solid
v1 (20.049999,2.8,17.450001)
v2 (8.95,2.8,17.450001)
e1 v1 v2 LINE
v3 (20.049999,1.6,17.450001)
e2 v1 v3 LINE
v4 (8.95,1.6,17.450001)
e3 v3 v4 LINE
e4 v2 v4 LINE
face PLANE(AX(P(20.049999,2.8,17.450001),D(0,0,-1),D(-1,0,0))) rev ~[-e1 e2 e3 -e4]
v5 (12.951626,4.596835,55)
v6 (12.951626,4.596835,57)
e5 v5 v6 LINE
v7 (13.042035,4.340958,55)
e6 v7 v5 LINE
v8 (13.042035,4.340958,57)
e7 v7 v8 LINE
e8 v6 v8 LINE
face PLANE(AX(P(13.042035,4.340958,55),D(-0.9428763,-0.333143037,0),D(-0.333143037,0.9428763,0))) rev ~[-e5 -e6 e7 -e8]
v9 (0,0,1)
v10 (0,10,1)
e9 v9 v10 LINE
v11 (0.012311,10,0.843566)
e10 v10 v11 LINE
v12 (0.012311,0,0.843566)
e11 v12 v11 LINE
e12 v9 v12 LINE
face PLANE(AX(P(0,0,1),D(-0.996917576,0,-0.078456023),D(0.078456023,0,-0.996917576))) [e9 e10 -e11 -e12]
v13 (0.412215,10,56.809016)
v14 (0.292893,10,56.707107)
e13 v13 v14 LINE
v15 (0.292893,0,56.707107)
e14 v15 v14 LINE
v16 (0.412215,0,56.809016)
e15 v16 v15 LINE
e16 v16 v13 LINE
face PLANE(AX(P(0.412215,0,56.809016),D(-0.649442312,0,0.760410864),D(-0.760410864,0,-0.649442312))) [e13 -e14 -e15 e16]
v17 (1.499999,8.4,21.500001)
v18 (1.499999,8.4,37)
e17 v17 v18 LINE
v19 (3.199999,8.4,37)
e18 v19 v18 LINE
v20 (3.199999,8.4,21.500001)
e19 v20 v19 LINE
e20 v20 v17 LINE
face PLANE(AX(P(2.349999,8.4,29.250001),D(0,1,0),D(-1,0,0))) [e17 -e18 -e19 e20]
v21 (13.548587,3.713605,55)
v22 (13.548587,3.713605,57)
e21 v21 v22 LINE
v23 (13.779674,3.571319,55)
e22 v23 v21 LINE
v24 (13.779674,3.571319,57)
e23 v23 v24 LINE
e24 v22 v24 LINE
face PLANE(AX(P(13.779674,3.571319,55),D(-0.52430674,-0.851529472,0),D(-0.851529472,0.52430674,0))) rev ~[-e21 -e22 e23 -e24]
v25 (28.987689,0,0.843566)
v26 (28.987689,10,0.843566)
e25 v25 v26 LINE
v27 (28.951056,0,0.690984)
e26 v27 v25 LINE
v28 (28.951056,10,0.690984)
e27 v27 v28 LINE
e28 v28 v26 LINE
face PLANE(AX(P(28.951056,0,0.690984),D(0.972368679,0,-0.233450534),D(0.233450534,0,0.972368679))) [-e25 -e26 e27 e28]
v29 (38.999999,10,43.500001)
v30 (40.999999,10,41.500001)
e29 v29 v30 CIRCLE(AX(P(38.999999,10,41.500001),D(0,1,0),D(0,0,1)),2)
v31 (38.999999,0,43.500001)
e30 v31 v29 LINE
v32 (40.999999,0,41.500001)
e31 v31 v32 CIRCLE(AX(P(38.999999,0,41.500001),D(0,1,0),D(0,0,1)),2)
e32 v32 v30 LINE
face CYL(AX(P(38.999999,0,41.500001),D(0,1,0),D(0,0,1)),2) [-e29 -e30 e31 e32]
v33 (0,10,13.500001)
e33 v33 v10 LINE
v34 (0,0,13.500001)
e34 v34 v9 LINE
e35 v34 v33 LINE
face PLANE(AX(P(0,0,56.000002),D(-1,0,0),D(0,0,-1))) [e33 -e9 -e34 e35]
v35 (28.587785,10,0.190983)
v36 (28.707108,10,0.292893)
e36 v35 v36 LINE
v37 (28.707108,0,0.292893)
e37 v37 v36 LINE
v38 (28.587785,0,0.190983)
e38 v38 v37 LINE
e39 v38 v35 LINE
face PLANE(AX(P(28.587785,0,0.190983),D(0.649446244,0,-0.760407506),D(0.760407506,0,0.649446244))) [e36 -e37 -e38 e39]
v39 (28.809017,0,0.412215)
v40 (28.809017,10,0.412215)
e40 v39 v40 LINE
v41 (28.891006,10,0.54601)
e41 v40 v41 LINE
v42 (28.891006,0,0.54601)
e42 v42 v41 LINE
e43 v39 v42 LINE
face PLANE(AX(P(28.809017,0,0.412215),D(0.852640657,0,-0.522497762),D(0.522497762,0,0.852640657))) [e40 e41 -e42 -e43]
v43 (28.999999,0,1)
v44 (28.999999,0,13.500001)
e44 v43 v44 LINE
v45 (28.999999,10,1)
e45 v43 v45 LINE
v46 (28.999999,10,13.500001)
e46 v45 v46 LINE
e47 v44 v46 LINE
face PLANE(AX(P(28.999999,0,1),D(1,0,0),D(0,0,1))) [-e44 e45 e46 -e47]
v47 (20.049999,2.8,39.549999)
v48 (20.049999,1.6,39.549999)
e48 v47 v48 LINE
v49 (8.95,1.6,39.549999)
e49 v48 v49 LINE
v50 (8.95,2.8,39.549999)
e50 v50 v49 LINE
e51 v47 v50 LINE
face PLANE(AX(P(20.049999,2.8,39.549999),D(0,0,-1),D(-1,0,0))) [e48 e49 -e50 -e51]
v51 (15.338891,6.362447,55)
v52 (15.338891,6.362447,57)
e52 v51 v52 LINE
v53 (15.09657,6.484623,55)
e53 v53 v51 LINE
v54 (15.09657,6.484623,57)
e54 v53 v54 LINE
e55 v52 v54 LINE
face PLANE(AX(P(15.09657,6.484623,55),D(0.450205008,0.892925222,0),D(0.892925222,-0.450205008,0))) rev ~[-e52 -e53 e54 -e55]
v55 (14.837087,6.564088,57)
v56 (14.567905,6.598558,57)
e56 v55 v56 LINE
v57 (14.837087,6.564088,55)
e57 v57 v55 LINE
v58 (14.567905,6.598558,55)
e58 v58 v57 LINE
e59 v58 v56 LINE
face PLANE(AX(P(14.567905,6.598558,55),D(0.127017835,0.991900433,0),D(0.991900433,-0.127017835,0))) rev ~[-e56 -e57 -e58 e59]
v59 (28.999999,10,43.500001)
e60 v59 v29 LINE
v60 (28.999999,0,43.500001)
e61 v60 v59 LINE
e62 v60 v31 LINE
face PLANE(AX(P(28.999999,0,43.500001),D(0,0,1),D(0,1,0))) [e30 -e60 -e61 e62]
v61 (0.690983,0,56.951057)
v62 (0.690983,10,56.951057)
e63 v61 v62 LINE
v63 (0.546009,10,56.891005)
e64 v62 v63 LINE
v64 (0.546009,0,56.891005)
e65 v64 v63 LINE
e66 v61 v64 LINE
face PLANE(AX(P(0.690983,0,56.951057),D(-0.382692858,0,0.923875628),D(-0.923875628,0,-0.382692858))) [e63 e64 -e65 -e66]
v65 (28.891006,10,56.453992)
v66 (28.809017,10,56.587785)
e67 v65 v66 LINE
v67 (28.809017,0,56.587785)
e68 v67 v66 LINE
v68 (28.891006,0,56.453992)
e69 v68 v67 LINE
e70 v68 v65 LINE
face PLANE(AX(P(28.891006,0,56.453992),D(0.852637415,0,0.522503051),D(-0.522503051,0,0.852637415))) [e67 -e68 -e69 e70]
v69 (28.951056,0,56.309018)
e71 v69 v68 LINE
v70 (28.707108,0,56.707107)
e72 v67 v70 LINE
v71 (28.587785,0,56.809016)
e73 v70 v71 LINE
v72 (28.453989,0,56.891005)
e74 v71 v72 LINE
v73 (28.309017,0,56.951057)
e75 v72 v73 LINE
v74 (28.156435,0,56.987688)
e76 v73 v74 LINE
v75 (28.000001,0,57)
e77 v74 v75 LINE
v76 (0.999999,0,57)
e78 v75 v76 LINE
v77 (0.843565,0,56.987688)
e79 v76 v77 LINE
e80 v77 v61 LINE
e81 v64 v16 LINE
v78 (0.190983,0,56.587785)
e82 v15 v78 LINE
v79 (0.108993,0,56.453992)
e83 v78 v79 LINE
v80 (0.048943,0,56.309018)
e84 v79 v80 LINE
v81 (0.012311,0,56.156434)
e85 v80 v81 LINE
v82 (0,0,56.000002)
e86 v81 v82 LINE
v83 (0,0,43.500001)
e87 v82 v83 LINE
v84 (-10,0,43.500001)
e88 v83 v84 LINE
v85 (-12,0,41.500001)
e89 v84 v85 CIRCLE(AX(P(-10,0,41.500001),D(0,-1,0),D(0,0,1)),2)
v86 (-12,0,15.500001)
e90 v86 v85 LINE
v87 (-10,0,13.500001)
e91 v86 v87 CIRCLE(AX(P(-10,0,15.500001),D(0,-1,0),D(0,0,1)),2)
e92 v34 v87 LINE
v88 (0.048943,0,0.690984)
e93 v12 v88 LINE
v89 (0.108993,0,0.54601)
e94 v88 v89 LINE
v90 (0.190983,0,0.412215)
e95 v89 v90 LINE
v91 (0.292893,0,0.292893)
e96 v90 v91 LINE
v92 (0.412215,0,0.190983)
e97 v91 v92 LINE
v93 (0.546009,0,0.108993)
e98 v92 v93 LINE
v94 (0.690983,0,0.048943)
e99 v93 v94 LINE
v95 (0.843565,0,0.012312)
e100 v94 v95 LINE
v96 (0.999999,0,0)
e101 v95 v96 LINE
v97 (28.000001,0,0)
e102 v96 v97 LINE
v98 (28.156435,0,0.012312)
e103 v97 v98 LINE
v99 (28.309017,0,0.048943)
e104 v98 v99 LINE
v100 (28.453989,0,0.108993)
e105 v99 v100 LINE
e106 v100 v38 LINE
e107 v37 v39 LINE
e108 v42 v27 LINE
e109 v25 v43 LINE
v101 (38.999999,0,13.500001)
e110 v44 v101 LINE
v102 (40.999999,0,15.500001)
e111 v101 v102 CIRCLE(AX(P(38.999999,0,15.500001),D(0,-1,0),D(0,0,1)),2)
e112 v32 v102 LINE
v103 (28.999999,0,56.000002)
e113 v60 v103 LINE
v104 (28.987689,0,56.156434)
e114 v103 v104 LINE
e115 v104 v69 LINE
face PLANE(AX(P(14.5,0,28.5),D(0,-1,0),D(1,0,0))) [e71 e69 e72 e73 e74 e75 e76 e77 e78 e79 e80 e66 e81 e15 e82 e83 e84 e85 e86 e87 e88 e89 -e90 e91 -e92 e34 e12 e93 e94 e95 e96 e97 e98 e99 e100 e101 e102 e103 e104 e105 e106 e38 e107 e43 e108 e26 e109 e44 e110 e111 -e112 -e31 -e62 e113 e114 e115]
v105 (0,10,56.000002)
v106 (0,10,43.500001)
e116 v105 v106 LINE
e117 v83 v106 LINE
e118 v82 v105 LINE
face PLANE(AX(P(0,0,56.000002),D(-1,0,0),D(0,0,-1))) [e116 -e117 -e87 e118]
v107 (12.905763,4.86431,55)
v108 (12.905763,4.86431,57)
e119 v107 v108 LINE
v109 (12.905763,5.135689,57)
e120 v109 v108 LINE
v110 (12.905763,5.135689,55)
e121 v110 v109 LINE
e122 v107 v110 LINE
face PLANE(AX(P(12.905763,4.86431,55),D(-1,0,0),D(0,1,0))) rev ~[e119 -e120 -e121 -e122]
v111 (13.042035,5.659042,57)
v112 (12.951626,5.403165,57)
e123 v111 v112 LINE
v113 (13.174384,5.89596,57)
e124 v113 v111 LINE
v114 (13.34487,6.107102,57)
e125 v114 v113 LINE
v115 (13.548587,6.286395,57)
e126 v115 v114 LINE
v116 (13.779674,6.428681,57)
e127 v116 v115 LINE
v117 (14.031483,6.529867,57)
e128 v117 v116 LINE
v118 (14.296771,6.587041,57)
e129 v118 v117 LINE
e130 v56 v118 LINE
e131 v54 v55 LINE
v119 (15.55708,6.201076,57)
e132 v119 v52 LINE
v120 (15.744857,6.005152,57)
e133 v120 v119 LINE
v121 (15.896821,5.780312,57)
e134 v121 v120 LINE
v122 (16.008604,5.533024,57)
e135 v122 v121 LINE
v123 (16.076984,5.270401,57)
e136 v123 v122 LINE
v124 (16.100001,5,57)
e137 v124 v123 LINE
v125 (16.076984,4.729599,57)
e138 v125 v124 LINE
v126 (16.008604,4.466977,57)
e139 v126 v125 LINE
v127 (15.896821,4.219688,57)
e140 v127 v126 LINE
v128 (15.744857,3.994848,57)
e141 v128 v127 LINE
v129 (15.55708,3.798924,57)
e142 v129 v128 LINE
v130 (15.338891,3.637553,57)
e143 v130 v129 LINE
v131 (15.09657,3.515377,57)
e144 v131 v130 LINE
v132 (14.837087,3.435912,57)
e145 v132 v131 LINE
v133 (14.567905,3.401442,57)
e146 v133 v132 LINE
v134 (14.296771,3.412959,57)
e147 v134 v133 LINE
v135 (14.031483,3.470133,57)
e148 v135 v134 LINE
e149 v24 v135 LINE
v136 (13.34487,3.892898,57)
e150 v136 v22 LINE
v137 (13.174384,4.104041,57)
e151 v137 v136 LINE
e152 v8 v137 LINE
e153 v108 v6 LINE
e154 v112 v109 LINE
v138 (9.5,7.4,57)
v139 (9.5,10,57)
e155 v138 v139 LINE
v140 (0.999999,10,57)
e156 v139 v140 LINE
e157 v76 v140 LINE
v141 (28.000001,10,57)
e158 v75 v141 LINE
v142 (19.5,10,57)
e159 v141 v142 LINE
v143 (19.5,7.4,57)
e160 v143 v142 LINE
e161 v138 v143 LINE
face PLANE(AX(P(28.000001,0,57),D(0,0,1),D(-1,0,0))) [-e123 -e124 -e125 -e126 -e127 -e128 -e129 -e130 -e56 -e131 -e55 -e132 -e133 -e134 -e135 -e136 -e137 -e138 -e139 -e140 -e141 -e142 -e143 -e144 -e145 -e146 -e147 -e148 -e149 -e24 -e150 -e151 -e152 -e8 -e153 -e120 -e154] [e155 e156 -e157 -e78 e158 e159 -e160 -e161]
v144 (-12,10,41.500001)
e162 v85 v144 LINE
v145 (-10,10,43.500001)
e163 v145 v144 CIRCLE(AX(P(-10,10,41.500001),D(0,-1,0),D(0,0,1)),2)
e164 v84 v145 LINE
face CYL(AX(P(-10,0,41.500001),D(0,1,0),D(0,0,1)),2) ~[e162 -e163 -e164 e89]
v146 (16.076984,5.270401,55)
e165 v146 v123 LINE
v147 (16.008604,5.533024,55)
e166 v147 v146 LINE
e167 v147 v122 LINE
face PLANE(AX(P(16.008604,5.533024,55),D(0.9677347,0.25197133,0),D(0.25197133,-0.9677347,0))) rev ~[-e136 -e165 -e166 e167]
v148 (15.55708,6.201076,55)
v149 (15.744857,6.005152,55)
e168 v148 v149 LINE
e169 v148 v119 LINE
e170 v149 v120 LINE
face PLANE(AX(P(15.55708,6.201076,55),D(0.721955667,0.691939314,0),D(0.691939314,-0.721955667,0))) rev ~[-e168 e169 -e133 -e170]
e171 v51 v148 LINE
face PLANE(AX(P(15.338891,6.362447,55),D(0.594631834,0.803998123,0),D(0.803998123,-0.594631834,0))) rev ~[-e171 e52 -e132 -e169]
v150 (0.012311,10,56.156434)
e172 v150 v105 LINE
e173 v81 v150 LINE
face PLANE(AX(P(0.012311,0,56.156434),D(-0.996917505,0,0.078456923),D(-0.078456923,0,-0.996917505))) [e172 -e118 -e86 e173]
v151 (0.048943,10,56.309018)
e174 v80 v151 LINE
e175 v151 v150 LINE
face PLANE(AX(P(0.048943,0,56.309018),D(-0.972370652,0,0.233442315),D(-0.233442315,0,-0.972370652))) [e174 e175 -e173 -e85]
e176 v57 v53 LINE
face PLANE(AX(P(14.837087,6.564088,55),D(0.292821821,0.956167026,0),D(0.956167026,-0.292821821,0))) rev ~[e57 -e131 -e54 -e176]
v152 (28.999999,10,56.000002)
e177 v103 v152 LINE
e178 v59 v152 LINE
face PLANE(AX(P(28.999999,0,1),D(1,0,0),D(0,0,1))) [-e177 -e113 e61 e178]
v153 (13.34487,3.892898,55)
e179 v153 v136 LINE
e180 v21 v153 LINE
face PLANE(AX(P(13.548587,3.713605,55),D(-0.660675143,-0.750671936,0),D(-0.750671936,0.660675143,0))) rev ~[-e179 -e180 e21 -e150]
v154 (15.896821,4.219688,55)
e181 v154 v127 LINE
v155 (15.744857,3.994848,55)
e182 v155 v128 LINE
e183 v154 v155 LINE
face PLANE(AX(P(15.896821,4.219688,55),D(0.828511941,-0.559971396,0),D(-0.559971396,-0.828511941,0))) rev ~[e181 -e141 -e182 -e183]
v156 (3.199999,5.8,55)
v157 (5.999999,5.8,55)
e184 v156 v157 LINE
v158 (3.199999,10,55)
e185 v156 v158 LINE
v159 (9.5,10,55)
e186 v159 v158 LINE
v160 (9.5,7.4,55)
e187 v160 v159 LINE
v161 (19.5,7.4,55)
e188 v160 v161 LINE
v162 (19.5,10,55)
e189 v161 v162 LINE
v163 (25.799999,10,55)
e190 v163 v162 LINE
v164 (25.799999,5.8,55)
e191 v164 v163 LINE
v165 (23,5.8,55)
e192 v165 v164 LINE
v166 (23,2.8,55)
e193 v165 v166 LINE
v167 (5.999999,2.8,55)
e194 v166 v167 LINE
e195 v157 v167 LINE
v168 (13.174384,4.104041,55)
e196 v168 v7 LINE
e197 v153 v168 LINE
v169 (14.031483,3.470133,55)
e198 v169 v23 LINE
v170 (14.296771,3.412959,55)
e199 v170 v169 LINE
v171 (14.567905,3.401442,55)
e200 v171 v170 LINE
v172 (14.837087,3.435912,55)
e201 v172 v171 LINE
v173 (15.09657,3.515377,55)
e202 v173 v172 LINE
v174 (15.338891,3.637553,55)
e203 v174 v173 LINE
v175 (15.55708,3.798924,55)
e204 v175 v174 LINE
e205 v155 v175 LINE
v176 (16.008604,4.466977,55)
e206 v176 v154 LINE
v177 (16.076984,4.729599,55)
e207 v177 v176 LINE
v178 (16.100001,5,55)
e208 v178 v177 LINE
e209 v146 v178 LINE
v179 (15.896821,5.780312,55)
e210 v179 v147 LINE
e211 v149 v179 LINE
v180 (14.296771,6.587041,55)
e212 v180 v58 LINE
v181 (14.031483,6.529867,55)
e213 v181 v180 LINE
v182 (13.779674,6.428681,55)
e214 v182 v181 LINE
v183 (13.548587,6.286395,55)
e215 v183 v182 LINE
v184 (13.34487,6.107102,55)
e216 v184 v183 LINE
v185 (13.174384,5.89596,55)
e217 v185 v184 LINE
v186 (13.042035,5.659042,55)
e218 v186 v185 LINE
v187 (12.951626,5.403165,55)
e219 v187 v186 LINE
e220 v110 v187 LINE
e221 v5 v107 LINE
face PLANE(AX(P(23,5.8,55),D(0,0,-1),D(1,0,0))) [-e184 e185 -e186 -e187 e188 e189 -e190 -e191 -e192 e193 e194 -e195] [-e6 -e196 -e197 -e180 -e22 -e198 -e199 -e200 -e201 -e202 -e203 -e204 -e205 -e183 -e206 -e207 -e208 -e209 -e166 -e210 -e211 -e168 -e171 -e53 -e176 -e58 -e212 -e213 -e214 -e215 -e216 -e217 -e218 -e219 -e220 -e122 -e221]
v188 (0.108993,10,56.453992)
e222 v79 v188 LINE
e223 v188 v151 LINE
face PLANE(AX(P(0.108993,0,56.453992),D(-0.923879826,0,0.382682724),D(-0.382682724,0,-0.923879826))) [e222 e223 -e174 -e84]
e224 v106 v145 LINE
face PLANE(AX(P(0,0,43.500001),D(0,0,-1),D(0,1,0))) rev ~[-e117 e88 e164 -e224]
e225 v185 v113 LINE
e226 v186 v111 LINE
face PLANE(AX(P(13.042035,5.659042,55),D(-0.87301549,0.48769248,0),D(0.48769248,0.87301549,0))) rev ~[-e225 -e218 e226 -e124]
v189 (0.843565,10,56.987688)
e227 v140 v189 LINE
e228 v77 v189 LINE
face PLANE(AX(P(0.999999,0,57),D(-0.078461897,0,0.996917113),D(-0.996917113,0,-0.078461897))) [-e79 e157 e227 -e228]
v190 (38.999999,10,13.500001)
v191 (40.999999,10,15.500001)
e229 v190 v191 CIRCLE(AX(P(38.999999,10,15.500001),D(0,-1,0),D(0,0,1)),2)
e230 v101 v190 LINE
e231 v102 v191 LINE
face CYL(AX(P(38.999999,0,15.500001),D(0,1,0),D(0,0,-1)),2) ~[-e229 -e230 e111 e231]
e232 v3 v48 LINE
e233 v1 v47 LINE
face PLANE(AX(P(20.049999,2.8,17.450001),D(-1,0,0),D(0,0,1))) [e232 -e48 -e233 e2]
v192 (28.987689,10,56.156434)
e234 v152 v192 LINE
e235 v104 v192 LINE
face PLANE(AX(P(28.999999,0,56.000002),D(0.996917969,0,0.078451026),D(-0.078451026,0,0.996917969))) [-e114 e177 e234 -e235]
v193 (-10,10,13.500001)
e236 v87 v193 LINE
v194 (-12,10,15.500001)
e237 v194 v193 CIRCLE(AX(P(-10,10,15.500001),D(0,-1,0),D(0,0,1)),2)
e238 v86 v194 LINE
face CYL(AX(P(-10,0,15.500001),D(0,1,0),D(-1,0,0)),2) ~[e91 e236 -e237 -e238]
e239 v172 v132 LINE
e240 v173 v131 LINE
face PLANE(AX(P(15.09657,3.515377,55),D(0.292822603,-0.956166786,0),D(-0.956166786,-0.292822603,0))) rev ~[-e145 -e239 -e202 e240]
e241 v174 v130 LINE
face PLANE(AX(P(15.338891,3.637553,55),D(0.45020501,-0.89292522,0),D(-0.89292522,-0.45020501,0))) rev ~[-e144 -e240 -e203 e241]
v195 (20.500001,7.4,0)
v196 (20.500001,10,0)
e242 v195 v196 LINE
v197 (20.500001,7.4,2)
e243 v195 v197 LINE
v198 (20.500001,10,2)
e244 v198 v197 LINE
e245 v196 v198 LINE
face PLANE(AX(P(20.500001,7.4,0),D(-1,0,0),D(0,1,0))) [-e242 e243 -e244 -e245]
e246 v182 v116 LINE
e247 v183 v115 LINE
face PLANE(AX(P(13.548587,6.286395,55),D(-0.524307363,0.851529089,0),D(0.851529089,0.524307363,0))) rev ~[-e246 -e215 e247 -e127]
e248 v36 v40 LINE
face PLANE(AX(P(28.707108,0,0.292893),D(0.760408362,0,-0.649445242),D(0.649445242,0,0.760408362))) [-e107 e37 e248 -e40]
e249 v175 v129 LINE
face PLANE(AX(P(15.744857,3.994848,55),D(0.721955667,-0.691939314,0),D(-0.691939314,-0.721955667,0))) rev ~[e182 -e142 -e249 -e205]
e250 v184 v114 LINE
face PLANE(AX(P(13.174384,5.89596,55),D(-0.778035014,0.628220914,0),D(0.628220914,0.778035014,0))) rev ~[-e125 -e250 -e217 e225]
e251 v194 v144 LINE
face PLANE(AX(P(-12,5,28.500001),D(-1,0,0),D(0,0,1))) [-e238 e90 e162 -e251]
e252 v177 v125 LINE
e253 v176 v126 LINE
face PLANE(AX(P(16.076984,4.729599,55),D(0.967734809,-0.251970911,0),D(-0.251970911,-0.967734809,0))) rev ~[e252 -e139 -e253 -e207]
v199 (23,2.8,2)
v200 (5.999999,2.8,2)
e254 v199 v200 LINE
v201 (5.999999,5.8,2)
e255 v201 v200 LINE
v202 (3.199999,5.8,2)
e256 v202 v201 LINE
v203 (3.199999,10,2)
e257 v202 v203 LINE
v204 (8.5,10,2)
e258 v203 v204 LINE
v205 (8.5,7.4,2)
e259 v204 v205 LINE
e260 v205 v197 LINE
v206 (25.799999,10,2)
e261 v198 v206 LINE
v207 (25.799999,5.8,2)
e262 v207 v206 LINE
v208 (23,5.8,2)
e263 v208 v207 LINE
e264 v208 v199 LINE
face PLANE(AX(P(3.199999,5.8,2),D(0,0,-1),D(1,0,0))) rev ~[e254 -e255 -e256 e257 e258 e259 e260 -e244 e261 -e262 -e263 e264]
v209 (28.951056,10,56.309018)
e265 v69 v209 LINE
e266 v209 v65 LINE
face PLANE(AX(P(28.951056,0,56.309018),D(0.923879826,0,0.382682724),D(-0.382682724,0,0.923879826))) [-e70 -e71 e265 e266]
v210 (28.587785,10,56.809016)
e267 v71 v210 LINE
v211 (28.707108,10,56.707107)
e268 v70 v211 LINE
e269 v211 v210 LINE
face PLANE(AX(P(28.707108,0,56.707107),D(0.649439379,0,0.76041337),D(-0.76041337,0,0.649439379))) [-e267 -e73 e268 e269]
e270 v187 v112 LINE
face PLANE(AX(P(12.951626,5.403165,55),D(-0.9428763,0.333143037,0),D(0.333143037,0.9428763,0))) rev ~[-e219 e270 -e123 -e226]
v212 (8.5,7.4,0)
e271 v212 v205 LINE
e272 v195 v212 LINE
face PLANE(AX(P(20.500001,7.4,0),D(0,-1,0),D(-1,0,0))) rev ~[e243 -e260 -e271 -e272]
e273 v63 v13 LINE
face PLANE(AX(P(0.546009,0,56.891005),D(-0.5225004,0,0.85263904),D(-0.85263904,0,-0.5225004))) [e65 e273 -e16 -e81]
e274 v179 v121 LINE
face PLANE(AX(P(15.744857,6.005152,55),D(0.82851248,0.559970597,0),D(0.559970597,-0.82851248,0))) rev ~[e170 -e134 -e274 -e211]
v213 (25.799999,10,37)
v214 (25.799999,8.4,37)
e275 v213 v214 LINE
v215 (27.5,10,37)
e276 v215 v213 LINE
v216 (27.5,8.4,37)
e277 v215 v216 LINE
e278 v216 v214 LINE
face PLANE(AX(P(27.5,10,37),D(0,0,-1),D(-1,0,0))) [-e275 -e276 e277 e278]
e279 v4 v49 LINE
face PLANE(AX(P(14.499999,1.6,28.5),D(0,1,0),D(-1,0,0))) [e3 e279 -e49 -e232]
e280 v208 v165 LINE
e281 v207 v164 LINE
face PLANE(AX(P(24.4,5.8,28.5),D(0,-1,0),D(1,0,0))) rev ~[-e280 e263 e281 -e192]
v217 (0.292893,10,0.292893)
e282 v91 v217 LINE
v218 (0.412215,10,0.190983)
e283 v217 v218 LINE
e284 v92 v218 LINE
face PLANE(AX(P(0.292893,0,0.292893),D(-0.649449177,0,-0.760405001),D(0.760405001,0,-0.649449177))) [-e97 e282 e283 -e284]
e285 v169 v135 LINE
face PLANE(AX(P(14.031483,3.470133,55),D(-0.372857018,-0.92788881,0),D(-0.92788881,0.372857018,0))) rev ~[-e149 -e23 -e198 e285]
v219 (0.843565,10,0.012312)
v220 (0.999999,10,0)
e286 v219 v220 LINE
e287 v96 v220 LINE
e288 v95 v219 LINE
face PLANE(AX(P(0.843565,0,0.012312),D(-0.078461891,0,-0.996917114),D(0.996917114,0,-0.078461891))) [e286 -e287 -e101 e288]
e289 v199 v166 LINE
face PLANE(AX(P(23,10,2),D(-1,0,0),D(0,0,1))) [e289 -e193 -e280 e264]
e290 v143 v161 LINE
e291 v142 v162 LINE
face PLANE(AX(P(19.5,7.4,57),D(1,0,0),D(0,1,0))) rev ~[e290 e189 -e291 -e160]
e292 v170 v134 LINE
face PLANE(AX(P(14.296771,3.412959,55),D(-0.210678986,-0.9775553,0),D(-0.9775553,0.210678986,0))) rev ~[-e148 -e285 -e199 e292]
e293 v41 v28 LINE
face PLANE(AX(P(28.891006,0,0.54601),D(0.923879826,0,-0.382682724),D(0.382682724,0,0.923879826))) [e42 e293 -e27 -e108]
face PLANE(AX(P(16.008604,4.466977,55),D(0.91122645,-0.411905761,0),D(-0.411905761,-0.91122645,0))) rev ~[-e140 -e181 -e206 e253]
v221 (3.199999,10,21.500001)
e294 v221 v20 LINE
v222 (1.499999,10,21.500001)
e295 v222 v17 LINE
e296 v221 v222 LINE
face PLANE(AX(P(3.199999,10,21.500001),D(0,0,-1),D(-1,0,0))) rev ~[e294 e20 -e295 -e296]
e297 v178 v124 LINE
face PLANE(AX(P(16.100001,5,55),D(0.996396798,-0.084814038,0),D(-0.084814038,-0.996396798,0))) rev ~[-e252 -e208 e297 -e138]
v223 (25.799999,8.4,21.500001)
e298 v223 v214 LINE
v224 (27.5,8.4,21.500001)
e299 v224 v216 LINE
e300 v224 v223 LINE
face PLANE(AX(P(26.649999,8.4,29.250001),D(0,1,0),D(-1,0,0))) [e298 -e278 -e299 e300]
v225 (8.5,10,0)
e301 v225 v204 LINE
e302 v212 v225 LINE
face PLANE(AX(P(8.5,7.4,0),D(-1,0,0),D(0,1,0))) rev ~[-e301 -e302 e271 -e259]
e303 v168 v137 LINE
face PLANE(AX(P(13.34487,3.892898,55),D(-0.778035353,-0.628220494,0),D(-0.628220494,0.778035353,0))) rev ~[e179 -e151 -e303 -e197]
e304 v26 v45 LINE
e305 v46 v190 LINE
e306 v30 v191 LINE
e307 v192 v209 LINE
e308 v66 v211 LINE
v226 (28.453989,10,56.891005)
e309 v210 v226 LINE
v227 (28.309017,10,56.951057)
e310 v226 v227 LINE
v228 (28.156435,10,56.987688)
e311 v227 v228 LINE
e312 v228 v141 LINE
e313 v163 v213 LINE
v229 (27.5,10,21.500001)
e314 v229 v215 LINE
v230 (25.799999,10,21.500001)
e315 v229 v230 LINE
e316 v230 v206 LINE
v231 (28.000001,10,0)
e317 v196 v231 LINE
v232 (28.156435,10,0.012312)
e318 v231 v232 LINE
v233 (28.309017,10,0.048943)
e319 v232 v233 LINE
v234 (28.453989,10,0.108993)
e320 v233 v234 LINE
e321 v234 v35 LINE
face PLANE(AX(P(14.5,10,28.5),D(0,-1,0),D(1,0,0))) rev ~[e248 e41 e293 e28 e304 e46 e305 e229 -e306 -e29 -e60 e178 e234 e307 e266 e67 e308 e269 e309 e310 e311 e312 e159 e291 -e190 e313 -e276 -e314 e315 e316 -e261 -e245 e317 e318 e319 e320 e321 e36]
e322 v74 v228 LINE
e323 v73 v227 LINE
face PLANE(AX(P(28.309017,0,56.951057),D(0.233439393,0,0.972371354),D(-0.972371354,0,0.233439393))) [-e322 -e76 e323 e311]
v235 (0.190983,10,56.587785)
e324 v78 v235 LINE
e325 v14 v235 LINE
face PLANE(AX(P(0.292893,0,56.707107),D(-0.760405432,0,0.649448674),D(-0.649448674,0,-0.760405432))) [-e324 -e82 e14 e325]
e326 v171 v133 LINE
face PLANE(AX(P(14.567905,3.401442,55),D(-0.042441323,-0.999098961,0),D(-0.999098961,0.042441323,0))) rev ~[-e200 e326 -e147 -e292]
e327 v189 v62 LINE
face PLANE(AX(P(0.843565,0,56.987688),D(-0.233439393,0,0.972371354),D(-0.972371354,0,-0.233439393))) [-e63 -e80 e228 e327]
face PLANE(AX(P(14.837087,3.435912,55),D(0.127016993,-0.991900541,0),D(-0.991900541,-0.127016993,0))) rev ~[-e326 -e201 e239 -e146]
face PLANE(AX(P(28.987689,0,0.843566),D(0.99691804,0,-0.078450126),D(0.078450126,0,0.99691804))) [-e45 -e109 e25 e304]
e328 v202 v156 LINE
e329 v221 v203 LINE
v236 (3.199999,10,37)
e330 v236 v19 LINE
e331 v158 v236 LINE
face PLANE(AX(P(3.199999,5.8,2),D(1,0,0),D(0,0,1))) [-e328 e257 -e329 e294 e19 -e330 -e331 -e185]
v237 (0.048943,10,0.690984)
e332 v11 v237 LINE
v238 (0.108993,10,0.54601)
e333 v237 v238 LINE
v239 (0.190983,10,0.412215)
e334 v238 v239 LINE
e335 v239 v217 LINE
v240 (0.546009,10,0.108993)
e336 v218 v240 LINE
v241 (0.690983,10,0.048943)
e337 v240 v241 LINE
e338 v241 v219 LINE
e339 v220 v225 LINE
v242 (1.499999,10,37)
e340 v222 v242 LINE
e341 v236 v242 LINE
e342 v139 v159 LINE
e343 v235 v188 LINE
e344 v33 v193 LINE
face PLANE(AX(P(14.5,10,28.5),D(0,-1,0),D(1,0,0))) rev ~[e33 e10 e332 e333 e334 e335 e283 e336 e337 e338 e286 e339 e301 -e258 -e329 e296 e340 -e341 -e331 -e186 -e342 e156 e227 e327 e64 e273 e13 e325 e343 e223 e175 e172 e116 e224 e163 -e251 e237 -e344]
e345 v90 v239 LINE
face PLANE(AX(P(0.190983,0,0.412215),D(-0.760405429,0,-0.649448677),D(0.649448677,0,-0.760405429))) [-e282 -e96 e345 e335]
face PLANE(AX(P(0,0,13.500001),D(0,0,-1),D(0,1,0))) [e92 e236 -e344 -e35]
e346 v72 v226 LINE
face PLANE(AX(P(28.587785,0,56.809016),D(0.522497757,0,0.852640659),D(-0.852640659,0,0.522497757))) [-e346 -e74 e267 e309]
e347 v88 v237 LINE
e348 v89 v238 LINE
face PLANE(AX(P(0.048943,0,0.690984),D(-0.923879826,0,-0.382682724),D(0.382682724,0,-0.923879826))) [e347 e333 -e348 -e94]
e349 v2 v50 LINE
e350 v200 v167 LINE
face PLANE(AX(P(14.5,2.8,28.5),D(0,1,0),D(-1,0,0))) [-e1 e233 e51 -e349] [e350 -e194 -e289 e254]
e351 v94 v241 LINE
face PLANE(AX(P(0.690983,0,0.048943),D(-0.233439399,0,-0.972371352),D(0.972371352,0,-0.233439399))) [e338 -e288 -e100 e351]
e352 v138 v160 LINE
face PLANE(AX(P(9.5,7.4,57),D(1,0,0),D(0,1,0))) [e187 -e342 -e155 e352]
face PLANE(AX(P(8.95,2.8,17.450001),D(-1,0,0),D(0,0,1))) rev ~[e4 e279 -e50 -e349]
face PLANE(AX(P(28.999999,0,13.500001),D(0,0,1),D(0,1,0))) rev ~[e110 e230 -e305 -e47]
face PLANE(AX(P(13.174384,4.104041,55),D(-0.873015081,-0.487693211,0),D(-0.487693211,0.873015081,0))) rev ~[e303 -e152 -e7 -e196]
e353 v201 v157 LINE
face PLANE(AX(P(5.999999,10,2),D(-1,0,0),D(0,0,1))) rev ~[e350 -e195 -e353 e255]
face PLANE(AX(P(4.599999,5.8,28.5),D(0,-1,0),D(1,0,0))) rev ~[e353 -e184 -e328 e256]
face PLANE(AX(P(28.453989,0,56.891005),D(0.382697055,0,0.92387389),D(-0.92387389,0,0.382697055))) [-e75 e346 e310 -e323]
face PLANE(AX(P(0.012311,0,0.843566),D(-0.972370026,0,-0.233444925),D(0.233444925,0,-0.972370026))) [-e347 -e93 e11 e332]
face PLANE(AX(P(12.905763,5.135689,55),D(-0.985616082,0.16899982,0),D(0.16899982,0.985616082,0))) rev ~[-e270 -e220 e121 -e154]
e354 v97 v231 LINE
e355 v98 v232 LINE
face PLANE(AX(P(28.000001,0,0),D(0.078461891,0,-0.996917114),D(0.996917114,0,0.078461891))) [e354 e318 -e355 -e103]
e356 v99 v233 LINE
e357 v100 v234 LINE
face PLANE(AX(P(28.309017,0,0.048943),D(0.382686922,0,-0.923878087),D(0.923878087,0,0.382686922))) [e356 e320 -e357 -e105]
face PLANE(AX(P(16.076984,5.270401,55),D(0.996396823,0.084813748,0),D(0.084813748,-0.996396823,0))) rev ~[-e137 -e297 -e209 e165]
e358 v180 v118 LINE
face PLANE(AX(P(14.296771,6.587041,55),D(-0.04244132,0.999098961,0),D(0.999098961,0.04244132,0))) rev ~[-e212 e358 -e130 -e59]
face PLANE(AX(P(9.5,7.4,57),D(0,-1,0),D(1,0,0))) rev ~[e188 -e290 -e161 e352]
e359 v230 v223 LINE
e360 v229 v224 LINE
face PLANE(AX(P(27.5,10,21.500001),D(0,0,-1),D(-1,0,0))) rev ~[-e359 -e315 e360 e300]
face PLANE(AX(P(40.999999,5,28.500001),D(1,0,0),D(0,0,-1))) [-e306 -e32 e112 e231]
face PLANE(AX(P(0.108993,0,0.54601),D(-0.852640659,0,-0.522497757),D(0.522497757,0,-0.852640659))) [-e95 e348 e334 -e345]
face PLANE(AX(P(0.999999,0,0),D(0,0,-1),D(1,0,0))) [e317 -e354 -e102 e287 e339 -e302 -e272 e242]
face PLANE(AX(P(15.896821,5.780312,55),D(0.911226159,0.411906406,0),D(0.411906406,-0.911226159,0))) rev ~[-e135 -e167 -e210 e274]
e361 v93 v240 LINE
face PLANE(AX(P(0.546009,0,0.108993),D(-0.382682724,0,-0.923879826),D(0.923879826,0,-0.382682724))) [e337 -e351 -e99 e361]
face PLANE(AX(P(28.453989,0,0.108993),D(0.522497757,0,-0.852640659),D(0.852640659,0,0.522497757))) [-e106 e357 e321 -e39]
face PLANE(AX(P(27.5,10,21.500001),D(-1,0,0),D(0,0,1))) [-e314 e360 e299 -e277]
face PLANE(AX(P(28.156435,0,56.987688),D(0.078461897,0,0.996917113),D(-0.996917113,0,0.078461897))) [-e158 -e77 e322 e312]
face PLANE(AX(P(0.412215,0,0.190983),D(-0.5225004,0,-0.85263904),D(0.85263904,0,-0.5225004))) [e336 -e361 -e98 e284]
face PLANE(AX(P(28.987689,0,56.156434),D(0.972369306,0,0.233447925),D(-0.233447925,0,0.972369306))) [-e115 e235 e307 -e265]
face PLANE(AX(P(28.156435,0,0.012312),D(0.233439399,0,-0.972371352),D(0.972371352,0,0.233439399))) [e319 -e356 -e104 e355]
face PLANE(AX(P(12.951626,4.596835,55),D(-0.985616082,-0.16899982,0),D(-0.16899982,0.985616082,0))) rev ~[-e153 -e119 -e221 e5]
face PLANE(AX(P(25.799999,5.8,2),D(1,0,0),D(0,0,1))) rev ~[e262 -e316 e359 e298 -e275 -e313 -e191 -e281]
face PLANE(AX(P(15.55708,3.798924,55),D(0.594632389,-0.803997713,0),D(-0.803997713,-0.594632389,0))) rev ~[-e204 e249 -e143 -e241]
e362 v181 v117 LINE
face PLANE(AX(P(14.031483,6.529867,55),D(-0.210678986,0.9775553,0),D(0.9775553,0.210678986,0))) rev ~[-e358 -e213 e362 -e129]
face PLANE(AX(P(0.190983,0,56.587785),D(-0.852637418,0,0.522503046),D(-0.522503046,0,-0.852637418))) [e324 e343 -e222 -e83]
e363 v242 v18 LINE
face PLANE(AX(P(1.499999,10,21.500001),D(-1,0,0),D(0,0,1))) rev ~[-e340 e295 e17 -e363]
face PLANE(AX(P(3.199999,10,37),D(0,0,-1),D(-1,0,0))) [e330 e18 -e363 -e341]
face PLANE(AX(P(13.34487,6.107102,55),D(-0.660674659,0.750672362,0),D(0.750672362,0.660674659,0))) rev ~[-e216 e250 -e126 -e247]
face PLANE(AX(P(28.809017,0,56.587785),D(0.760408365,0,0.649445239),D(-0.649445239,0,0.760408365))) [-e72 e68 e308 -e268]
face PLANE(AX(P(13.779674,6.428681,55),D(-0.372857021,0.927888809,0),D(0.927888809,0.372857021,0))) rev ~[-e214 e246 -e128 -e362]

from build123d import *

# Parameters (mm, degrees)
BOSS_EXTRUDE1_DEPTH = 9.999999776
SKETCH2_W           = 17.000000924
SKETCH2_H           = 52.999999374
CUT_EXTRUDE1_DEPTH  = 7.199999876
CUT_EXTRUDE2_REACH  = 66.216
SKETCH4_W           = 2.799998969
SKETCH4_H           = 52.999999374
CUT_EXTRUDE3_REACH  = 66.216
SKETCH6_W           = 2.7999999
SKETCH6_H           = 52.999999374
CUT_EXTRUDE4_REACH  = 66.73
SKETCH7_W           = 10.000000707
SKETCH7_H           = 2.599999774
CUT_EXTRUDE5_REACH  = 66.73
SKETCH8_W           = 12.000000104
SKETCH8_H           = 2.599999774
CUT_EXTRUDE6_DEPTH  = 63.976185295
SKETCH10_W          = 1.699999906
SKETCH10_H          = 15.499999747
CUT_EXTRUDE7_DEPTH  = 1.600000076
SKETCH11_W          = 1.700000837
SKETCH11_H          = 15.499999747
CUT_EXTRUDE8_DEPTH  = 1.600000076
SKETCH12_W          = 11.099998839
SKETCH12_H          = 22.099997848
CUT_EXTRUDE9_DEPTH  = 1.199999941
SKETCH13_W          = 30
SKETCH13_H          = 9.999999776
BOSS_EXTRUDE2_DEPTH = 12
SKETCH14_W          = 30
SKETCH14_H          = 9.999999776
BOSS_EXTRUDE3_DEPTH = 12
FILLET1_R           = 2


with BuildPart() as part:
    # Sketch1 → Boss-Extrude1 (new body)
    with BuildSketch(Plane.XZ):
        Polygon((0.84356498, 0.012312084), (0.999999233, 0), (28.000000864, 0), (28.156435117, 0.012312084), (28.30901742, 0.048942864), (28.453988954, 0.108992681), (28.587784618, 0.190982595), (28.707107529, 0.292893499), (28.80901657, 0.412214547), (28.891006485, 0.546010211), (28.951056302, 0.690983608), (28.987688944, 0.843565969), (28.999999166, 1.000000164), (28.999999166, 56.000001729), (28.987688944, 56.156434119), (28.951056302, 56.309018284), (28.891006485, 56.453991681), (28.80901657, 56.587785482), (28.707107529, 56.707106531), (28.587784618, 56.809015572), (28.453988954, 56.891005486), (28.30901742, 56.951057166), (28.156435117, 56.987687945), (28.000000864, 57.00000003), (0.999999233, 57.00000003), (0.84356498, 56.987687945), (0.690982677, 56.951057166), (0.54600928, 56.891005486), (0.412214547, 56.809015572), (0.292892568, 56.707106531), (0.190982595, 56.587785482), (0.108992681, 56.453991681), (0.048942864, 56.309018284), (0.012311153, 56.156434119), (0, 56.000001729), (0, 1.000000164), (0.012311153, 0.843565969), (0.048942864, 0.690983608), (0.108992681, 0.546010211), (0.190982595, 0.412214547), (0.292892568, 0.292893499), (0.412214547, 0.190982595), (0.54600928, 0.108992681), (0.690982677, 0.048942864), align=None)
    extrude(amount=-BOSS_EXTRUDE1_DEPTH)

    # Sketch2 → Cut-Extrude1 (cut)
    with BuildSketch(Plane(origin=(0, 9.999999776, 0), x_dir=(-1, 0, 0), z_dir=(0, 1, 0))):
        with Locations((-14.499999583, 28.500000015)):
            Rectangle(SKETCH2_W, SKETCH2_H)
    extrude(amount=-CUT_EXTRUDE1_DEPTH, mode=Mode.SUBTRACT)

    # Sketch4 → Cut-Extrude2 (cut, up to next)
    with BuildSketch(Plane.XZ.offset(-5.799999926), mode=Mode.PRIVATE) as cut_extrude2_sk1:
        with Locations((24.39999953, 28.500000015)):
            Rectangle(SKETCH4_W, SKETCH4_H)
    cut_extrude2_tool1 = extrude(cut_extrude2_sk1.sketch, amount=-CUT_EXTRUDE2_REACH, mode=Mode.PRIVATE) & part.part
    add(cut_extrude2_tool1.solids().sort_by_distance((24.4, 5.8, 28.5))[0], mode=Mode.SUBTRACT)

    # Sketch6 → Cut-Extrude3 (cut, up to next)
    with BuildSketch(Plane.XZ.offset(-5.799999926), mode=Mode.PRIVATE) as cut_extrude3_sk1:
        with Locations((4.599999171, 28.500000015)):
            Rectangle(SKETCH6_W, SKETCH6_H)
    cut_extrude3_tool1 = extrude(cut_extrude3_sk1.sketch, amount=-CUT_EXTRUDE3_REACH, mode=Mode.PRIVATE) & part.part
    add(cut_extrude3_tool1.solids().sort_by_distance((4.599999, 5.8, 28.5))[0], mode=Mode.SUBTRACT)

    # Sketch7 → Cut-Extrude4 (cut, up to next)
    with BuildSketch(Plane.XY.offset(57.00000003), mode=Mode.PRIVATE) as cut_extrude4_sk1:
        with Locations((14.500000049, 8.699999889)):
            Rectangle(SKETCH7_W, SKETCH7_H)
    cut_extrude4_tool1 = extrude(cut_extrude4_sk1.sketch, amount=-CUT_EXTRUDE4_REACH, mode=Mode.PRIVATE) & part.part
    add(cut_extrude4_tool1.solids().sort_by_distance((14.5, 8.7, 57))[0], mode=Mode.SUBTRACT)

    # Sketch8 → Cut-Extrude5 (cut, up to next)
    with BuildSketch(Plane(origin=(0, 0, 0), x_dir=(-1, 0, 0), z_dir=(0, 0, -1)), mode=Mode.PRIVATE) as cut_extrude5_sk1:
        with Locations((-14.500000514, 8.699999889)):
            Rectangle(SKETCH8_W, SKETCH8_H)
    cut_extrude5_tool1 = extrude(cut_extrude5_sk1.sketch, amount=-CUT_EXTRUDE5_REACH, mode=Mode.PRIVATE) & part.part
    add(cut_extrude5_tool1.solids().sort_by_distance((14.500001, 8.7, 0))[0], mode=Mode.SUBTRACT)

    # Sketch9 → Cut-Extrude6 (cut, through all)
    with BuildSketch(Plane(origin=(0, 0, 54.999999702), x_dir=(-1, 0, 0), z_dir=(0, 0, -1))):
        Polygon((-16.008604318, 4.466976505), (-15.896821395, 4.219688009), (-15.74485749, 3.994848114), (-15.557079576, 3.798924387), (-15.338891186, 3.637553426), (-15.096570365, 3.515377408), (-14.837087132, 3.435911611), (-14.567905106, 3.401441732), (-14.296771027, 3.412959399), (-14.03148286, 3.470133292), (-13.779673725, 3.571318695), (-13.548586518, 3.713604528), (-13.344869949, 3.892897861), (-13.174383901, 4.104040563), (-13.042034581, 4.34095785), (-12.951626442, 4.596835002), (-12.905763462, 4.86431038), (-12.905763462, 5.135689396), (-12.951626442, 5.403164774), (-13.042034581, 5.659041926), (-13.174383901, 5.895959679), (-13.344869949, 6.107102148), (-13.548586518, 6.286395248), (-13.779673725, 6.428681314), (-14.03148286, 6.529866718), (-14.296771027, 6.587040611), (-14.567905106, 6.598558277), (-14.837087132, 6.564088166), (-15.096570365, 6.484622601), (-15.338891186, 6.362446584), (-15.557079576, 6.201075856), (-15.74485749, 6.005152129), (-15.896821395, 5.780311767), (-16.008604318, 5.533023737), (-16.076983884, 5.270401482), (-16.10000059, 4.999999888), (-16.076983884, 4.729599226), align=None)
    extrude(amount=-CUT_EXTRUDE6_DEPTH, mode=Mode.SUBTRACT)

    # Sketch10 → Cut-Extrude7 (cut)
    with BuildSketch(Plane(origin=(0, 9.999999776, 0), x_dir=(-1, 0, 0), z_dir=(0, 1, 0))):
        with Locations((-2.349999268, 29.250000603)):
            Rectangle(SKETCH10_W, SKETCH10_H)
    extrude(amount=-CUT_EXTRUDE7_DEPTH, mode=Mode.SUBTRACT)

    # Sketch11 → Cut-Extrude8 (cut)
    with BuildSketch(Plane(origin=(0, 9.999999776, 0), x_dir=(-1, 0, 0), z_dir=(0, 1, 0))):
        with Locations((-26.649999433, 29.250000603)):
            Rectangle(SKETCH11_W, SKETCH11_H)
    extrude(amount=-CUT_EXTRUDE8_DEPTH, mode=Mode.SUBTRACT)

    # Sketch12 → Cut-Extrude9 (cut)
    with BuildSketch(Plane(origin=(0, 2.7999999, 0), x_dir=(-1, 0, 0), z_dir=(0, 1, 0))):
        with Locations((-14.499999117, 28.500000015)):
            Rectangle(SKETCH12_W, SKETCH12_H)
    extrude(amount=-CUT_EXTRUDE9_DEPTH, mode=Mode.SUBTRACT)

    # Sketch13 → Boss-Extrude2 (add)
    with BuildSketch(Plane.ZY):
        with Locations((28.500000946, 4.999999888)):
            Rectangle(SKETCH13_W, SKETCH13_H)
    extrude(amount=BOSS_EXTRUDE2_DEPTH)

    # Sketch14 → Boss-Extrude3 (add)
    with BuildSketch(Plane(origin=(28.999999166, 0, 0), x_dir=(0, 0, -1), z_dir=(1, 0, 0))):
        with Locations((-28.500000946, 4.999999888)):
            Rectangle(SKETCH14_W, SKETCH14_H)
    extrude(amount=BOSS_EXTRUDE3_DEPTH)

    # Fillet1
    fillet1_edges = [part.edges().sort_by_distance(p)[0] for p in [
        (-12, 4.999999888, 13.500000946),
        (-12, 4.999999888, 43.500000946),
        (40.999999166, 4.999999888, 43.500000946),
        (40.999999166, 4.999999888, 13.500000946),
    ]]
    fillet(fillet1_edges, radius=FILLET1_R)


solid = part.part
